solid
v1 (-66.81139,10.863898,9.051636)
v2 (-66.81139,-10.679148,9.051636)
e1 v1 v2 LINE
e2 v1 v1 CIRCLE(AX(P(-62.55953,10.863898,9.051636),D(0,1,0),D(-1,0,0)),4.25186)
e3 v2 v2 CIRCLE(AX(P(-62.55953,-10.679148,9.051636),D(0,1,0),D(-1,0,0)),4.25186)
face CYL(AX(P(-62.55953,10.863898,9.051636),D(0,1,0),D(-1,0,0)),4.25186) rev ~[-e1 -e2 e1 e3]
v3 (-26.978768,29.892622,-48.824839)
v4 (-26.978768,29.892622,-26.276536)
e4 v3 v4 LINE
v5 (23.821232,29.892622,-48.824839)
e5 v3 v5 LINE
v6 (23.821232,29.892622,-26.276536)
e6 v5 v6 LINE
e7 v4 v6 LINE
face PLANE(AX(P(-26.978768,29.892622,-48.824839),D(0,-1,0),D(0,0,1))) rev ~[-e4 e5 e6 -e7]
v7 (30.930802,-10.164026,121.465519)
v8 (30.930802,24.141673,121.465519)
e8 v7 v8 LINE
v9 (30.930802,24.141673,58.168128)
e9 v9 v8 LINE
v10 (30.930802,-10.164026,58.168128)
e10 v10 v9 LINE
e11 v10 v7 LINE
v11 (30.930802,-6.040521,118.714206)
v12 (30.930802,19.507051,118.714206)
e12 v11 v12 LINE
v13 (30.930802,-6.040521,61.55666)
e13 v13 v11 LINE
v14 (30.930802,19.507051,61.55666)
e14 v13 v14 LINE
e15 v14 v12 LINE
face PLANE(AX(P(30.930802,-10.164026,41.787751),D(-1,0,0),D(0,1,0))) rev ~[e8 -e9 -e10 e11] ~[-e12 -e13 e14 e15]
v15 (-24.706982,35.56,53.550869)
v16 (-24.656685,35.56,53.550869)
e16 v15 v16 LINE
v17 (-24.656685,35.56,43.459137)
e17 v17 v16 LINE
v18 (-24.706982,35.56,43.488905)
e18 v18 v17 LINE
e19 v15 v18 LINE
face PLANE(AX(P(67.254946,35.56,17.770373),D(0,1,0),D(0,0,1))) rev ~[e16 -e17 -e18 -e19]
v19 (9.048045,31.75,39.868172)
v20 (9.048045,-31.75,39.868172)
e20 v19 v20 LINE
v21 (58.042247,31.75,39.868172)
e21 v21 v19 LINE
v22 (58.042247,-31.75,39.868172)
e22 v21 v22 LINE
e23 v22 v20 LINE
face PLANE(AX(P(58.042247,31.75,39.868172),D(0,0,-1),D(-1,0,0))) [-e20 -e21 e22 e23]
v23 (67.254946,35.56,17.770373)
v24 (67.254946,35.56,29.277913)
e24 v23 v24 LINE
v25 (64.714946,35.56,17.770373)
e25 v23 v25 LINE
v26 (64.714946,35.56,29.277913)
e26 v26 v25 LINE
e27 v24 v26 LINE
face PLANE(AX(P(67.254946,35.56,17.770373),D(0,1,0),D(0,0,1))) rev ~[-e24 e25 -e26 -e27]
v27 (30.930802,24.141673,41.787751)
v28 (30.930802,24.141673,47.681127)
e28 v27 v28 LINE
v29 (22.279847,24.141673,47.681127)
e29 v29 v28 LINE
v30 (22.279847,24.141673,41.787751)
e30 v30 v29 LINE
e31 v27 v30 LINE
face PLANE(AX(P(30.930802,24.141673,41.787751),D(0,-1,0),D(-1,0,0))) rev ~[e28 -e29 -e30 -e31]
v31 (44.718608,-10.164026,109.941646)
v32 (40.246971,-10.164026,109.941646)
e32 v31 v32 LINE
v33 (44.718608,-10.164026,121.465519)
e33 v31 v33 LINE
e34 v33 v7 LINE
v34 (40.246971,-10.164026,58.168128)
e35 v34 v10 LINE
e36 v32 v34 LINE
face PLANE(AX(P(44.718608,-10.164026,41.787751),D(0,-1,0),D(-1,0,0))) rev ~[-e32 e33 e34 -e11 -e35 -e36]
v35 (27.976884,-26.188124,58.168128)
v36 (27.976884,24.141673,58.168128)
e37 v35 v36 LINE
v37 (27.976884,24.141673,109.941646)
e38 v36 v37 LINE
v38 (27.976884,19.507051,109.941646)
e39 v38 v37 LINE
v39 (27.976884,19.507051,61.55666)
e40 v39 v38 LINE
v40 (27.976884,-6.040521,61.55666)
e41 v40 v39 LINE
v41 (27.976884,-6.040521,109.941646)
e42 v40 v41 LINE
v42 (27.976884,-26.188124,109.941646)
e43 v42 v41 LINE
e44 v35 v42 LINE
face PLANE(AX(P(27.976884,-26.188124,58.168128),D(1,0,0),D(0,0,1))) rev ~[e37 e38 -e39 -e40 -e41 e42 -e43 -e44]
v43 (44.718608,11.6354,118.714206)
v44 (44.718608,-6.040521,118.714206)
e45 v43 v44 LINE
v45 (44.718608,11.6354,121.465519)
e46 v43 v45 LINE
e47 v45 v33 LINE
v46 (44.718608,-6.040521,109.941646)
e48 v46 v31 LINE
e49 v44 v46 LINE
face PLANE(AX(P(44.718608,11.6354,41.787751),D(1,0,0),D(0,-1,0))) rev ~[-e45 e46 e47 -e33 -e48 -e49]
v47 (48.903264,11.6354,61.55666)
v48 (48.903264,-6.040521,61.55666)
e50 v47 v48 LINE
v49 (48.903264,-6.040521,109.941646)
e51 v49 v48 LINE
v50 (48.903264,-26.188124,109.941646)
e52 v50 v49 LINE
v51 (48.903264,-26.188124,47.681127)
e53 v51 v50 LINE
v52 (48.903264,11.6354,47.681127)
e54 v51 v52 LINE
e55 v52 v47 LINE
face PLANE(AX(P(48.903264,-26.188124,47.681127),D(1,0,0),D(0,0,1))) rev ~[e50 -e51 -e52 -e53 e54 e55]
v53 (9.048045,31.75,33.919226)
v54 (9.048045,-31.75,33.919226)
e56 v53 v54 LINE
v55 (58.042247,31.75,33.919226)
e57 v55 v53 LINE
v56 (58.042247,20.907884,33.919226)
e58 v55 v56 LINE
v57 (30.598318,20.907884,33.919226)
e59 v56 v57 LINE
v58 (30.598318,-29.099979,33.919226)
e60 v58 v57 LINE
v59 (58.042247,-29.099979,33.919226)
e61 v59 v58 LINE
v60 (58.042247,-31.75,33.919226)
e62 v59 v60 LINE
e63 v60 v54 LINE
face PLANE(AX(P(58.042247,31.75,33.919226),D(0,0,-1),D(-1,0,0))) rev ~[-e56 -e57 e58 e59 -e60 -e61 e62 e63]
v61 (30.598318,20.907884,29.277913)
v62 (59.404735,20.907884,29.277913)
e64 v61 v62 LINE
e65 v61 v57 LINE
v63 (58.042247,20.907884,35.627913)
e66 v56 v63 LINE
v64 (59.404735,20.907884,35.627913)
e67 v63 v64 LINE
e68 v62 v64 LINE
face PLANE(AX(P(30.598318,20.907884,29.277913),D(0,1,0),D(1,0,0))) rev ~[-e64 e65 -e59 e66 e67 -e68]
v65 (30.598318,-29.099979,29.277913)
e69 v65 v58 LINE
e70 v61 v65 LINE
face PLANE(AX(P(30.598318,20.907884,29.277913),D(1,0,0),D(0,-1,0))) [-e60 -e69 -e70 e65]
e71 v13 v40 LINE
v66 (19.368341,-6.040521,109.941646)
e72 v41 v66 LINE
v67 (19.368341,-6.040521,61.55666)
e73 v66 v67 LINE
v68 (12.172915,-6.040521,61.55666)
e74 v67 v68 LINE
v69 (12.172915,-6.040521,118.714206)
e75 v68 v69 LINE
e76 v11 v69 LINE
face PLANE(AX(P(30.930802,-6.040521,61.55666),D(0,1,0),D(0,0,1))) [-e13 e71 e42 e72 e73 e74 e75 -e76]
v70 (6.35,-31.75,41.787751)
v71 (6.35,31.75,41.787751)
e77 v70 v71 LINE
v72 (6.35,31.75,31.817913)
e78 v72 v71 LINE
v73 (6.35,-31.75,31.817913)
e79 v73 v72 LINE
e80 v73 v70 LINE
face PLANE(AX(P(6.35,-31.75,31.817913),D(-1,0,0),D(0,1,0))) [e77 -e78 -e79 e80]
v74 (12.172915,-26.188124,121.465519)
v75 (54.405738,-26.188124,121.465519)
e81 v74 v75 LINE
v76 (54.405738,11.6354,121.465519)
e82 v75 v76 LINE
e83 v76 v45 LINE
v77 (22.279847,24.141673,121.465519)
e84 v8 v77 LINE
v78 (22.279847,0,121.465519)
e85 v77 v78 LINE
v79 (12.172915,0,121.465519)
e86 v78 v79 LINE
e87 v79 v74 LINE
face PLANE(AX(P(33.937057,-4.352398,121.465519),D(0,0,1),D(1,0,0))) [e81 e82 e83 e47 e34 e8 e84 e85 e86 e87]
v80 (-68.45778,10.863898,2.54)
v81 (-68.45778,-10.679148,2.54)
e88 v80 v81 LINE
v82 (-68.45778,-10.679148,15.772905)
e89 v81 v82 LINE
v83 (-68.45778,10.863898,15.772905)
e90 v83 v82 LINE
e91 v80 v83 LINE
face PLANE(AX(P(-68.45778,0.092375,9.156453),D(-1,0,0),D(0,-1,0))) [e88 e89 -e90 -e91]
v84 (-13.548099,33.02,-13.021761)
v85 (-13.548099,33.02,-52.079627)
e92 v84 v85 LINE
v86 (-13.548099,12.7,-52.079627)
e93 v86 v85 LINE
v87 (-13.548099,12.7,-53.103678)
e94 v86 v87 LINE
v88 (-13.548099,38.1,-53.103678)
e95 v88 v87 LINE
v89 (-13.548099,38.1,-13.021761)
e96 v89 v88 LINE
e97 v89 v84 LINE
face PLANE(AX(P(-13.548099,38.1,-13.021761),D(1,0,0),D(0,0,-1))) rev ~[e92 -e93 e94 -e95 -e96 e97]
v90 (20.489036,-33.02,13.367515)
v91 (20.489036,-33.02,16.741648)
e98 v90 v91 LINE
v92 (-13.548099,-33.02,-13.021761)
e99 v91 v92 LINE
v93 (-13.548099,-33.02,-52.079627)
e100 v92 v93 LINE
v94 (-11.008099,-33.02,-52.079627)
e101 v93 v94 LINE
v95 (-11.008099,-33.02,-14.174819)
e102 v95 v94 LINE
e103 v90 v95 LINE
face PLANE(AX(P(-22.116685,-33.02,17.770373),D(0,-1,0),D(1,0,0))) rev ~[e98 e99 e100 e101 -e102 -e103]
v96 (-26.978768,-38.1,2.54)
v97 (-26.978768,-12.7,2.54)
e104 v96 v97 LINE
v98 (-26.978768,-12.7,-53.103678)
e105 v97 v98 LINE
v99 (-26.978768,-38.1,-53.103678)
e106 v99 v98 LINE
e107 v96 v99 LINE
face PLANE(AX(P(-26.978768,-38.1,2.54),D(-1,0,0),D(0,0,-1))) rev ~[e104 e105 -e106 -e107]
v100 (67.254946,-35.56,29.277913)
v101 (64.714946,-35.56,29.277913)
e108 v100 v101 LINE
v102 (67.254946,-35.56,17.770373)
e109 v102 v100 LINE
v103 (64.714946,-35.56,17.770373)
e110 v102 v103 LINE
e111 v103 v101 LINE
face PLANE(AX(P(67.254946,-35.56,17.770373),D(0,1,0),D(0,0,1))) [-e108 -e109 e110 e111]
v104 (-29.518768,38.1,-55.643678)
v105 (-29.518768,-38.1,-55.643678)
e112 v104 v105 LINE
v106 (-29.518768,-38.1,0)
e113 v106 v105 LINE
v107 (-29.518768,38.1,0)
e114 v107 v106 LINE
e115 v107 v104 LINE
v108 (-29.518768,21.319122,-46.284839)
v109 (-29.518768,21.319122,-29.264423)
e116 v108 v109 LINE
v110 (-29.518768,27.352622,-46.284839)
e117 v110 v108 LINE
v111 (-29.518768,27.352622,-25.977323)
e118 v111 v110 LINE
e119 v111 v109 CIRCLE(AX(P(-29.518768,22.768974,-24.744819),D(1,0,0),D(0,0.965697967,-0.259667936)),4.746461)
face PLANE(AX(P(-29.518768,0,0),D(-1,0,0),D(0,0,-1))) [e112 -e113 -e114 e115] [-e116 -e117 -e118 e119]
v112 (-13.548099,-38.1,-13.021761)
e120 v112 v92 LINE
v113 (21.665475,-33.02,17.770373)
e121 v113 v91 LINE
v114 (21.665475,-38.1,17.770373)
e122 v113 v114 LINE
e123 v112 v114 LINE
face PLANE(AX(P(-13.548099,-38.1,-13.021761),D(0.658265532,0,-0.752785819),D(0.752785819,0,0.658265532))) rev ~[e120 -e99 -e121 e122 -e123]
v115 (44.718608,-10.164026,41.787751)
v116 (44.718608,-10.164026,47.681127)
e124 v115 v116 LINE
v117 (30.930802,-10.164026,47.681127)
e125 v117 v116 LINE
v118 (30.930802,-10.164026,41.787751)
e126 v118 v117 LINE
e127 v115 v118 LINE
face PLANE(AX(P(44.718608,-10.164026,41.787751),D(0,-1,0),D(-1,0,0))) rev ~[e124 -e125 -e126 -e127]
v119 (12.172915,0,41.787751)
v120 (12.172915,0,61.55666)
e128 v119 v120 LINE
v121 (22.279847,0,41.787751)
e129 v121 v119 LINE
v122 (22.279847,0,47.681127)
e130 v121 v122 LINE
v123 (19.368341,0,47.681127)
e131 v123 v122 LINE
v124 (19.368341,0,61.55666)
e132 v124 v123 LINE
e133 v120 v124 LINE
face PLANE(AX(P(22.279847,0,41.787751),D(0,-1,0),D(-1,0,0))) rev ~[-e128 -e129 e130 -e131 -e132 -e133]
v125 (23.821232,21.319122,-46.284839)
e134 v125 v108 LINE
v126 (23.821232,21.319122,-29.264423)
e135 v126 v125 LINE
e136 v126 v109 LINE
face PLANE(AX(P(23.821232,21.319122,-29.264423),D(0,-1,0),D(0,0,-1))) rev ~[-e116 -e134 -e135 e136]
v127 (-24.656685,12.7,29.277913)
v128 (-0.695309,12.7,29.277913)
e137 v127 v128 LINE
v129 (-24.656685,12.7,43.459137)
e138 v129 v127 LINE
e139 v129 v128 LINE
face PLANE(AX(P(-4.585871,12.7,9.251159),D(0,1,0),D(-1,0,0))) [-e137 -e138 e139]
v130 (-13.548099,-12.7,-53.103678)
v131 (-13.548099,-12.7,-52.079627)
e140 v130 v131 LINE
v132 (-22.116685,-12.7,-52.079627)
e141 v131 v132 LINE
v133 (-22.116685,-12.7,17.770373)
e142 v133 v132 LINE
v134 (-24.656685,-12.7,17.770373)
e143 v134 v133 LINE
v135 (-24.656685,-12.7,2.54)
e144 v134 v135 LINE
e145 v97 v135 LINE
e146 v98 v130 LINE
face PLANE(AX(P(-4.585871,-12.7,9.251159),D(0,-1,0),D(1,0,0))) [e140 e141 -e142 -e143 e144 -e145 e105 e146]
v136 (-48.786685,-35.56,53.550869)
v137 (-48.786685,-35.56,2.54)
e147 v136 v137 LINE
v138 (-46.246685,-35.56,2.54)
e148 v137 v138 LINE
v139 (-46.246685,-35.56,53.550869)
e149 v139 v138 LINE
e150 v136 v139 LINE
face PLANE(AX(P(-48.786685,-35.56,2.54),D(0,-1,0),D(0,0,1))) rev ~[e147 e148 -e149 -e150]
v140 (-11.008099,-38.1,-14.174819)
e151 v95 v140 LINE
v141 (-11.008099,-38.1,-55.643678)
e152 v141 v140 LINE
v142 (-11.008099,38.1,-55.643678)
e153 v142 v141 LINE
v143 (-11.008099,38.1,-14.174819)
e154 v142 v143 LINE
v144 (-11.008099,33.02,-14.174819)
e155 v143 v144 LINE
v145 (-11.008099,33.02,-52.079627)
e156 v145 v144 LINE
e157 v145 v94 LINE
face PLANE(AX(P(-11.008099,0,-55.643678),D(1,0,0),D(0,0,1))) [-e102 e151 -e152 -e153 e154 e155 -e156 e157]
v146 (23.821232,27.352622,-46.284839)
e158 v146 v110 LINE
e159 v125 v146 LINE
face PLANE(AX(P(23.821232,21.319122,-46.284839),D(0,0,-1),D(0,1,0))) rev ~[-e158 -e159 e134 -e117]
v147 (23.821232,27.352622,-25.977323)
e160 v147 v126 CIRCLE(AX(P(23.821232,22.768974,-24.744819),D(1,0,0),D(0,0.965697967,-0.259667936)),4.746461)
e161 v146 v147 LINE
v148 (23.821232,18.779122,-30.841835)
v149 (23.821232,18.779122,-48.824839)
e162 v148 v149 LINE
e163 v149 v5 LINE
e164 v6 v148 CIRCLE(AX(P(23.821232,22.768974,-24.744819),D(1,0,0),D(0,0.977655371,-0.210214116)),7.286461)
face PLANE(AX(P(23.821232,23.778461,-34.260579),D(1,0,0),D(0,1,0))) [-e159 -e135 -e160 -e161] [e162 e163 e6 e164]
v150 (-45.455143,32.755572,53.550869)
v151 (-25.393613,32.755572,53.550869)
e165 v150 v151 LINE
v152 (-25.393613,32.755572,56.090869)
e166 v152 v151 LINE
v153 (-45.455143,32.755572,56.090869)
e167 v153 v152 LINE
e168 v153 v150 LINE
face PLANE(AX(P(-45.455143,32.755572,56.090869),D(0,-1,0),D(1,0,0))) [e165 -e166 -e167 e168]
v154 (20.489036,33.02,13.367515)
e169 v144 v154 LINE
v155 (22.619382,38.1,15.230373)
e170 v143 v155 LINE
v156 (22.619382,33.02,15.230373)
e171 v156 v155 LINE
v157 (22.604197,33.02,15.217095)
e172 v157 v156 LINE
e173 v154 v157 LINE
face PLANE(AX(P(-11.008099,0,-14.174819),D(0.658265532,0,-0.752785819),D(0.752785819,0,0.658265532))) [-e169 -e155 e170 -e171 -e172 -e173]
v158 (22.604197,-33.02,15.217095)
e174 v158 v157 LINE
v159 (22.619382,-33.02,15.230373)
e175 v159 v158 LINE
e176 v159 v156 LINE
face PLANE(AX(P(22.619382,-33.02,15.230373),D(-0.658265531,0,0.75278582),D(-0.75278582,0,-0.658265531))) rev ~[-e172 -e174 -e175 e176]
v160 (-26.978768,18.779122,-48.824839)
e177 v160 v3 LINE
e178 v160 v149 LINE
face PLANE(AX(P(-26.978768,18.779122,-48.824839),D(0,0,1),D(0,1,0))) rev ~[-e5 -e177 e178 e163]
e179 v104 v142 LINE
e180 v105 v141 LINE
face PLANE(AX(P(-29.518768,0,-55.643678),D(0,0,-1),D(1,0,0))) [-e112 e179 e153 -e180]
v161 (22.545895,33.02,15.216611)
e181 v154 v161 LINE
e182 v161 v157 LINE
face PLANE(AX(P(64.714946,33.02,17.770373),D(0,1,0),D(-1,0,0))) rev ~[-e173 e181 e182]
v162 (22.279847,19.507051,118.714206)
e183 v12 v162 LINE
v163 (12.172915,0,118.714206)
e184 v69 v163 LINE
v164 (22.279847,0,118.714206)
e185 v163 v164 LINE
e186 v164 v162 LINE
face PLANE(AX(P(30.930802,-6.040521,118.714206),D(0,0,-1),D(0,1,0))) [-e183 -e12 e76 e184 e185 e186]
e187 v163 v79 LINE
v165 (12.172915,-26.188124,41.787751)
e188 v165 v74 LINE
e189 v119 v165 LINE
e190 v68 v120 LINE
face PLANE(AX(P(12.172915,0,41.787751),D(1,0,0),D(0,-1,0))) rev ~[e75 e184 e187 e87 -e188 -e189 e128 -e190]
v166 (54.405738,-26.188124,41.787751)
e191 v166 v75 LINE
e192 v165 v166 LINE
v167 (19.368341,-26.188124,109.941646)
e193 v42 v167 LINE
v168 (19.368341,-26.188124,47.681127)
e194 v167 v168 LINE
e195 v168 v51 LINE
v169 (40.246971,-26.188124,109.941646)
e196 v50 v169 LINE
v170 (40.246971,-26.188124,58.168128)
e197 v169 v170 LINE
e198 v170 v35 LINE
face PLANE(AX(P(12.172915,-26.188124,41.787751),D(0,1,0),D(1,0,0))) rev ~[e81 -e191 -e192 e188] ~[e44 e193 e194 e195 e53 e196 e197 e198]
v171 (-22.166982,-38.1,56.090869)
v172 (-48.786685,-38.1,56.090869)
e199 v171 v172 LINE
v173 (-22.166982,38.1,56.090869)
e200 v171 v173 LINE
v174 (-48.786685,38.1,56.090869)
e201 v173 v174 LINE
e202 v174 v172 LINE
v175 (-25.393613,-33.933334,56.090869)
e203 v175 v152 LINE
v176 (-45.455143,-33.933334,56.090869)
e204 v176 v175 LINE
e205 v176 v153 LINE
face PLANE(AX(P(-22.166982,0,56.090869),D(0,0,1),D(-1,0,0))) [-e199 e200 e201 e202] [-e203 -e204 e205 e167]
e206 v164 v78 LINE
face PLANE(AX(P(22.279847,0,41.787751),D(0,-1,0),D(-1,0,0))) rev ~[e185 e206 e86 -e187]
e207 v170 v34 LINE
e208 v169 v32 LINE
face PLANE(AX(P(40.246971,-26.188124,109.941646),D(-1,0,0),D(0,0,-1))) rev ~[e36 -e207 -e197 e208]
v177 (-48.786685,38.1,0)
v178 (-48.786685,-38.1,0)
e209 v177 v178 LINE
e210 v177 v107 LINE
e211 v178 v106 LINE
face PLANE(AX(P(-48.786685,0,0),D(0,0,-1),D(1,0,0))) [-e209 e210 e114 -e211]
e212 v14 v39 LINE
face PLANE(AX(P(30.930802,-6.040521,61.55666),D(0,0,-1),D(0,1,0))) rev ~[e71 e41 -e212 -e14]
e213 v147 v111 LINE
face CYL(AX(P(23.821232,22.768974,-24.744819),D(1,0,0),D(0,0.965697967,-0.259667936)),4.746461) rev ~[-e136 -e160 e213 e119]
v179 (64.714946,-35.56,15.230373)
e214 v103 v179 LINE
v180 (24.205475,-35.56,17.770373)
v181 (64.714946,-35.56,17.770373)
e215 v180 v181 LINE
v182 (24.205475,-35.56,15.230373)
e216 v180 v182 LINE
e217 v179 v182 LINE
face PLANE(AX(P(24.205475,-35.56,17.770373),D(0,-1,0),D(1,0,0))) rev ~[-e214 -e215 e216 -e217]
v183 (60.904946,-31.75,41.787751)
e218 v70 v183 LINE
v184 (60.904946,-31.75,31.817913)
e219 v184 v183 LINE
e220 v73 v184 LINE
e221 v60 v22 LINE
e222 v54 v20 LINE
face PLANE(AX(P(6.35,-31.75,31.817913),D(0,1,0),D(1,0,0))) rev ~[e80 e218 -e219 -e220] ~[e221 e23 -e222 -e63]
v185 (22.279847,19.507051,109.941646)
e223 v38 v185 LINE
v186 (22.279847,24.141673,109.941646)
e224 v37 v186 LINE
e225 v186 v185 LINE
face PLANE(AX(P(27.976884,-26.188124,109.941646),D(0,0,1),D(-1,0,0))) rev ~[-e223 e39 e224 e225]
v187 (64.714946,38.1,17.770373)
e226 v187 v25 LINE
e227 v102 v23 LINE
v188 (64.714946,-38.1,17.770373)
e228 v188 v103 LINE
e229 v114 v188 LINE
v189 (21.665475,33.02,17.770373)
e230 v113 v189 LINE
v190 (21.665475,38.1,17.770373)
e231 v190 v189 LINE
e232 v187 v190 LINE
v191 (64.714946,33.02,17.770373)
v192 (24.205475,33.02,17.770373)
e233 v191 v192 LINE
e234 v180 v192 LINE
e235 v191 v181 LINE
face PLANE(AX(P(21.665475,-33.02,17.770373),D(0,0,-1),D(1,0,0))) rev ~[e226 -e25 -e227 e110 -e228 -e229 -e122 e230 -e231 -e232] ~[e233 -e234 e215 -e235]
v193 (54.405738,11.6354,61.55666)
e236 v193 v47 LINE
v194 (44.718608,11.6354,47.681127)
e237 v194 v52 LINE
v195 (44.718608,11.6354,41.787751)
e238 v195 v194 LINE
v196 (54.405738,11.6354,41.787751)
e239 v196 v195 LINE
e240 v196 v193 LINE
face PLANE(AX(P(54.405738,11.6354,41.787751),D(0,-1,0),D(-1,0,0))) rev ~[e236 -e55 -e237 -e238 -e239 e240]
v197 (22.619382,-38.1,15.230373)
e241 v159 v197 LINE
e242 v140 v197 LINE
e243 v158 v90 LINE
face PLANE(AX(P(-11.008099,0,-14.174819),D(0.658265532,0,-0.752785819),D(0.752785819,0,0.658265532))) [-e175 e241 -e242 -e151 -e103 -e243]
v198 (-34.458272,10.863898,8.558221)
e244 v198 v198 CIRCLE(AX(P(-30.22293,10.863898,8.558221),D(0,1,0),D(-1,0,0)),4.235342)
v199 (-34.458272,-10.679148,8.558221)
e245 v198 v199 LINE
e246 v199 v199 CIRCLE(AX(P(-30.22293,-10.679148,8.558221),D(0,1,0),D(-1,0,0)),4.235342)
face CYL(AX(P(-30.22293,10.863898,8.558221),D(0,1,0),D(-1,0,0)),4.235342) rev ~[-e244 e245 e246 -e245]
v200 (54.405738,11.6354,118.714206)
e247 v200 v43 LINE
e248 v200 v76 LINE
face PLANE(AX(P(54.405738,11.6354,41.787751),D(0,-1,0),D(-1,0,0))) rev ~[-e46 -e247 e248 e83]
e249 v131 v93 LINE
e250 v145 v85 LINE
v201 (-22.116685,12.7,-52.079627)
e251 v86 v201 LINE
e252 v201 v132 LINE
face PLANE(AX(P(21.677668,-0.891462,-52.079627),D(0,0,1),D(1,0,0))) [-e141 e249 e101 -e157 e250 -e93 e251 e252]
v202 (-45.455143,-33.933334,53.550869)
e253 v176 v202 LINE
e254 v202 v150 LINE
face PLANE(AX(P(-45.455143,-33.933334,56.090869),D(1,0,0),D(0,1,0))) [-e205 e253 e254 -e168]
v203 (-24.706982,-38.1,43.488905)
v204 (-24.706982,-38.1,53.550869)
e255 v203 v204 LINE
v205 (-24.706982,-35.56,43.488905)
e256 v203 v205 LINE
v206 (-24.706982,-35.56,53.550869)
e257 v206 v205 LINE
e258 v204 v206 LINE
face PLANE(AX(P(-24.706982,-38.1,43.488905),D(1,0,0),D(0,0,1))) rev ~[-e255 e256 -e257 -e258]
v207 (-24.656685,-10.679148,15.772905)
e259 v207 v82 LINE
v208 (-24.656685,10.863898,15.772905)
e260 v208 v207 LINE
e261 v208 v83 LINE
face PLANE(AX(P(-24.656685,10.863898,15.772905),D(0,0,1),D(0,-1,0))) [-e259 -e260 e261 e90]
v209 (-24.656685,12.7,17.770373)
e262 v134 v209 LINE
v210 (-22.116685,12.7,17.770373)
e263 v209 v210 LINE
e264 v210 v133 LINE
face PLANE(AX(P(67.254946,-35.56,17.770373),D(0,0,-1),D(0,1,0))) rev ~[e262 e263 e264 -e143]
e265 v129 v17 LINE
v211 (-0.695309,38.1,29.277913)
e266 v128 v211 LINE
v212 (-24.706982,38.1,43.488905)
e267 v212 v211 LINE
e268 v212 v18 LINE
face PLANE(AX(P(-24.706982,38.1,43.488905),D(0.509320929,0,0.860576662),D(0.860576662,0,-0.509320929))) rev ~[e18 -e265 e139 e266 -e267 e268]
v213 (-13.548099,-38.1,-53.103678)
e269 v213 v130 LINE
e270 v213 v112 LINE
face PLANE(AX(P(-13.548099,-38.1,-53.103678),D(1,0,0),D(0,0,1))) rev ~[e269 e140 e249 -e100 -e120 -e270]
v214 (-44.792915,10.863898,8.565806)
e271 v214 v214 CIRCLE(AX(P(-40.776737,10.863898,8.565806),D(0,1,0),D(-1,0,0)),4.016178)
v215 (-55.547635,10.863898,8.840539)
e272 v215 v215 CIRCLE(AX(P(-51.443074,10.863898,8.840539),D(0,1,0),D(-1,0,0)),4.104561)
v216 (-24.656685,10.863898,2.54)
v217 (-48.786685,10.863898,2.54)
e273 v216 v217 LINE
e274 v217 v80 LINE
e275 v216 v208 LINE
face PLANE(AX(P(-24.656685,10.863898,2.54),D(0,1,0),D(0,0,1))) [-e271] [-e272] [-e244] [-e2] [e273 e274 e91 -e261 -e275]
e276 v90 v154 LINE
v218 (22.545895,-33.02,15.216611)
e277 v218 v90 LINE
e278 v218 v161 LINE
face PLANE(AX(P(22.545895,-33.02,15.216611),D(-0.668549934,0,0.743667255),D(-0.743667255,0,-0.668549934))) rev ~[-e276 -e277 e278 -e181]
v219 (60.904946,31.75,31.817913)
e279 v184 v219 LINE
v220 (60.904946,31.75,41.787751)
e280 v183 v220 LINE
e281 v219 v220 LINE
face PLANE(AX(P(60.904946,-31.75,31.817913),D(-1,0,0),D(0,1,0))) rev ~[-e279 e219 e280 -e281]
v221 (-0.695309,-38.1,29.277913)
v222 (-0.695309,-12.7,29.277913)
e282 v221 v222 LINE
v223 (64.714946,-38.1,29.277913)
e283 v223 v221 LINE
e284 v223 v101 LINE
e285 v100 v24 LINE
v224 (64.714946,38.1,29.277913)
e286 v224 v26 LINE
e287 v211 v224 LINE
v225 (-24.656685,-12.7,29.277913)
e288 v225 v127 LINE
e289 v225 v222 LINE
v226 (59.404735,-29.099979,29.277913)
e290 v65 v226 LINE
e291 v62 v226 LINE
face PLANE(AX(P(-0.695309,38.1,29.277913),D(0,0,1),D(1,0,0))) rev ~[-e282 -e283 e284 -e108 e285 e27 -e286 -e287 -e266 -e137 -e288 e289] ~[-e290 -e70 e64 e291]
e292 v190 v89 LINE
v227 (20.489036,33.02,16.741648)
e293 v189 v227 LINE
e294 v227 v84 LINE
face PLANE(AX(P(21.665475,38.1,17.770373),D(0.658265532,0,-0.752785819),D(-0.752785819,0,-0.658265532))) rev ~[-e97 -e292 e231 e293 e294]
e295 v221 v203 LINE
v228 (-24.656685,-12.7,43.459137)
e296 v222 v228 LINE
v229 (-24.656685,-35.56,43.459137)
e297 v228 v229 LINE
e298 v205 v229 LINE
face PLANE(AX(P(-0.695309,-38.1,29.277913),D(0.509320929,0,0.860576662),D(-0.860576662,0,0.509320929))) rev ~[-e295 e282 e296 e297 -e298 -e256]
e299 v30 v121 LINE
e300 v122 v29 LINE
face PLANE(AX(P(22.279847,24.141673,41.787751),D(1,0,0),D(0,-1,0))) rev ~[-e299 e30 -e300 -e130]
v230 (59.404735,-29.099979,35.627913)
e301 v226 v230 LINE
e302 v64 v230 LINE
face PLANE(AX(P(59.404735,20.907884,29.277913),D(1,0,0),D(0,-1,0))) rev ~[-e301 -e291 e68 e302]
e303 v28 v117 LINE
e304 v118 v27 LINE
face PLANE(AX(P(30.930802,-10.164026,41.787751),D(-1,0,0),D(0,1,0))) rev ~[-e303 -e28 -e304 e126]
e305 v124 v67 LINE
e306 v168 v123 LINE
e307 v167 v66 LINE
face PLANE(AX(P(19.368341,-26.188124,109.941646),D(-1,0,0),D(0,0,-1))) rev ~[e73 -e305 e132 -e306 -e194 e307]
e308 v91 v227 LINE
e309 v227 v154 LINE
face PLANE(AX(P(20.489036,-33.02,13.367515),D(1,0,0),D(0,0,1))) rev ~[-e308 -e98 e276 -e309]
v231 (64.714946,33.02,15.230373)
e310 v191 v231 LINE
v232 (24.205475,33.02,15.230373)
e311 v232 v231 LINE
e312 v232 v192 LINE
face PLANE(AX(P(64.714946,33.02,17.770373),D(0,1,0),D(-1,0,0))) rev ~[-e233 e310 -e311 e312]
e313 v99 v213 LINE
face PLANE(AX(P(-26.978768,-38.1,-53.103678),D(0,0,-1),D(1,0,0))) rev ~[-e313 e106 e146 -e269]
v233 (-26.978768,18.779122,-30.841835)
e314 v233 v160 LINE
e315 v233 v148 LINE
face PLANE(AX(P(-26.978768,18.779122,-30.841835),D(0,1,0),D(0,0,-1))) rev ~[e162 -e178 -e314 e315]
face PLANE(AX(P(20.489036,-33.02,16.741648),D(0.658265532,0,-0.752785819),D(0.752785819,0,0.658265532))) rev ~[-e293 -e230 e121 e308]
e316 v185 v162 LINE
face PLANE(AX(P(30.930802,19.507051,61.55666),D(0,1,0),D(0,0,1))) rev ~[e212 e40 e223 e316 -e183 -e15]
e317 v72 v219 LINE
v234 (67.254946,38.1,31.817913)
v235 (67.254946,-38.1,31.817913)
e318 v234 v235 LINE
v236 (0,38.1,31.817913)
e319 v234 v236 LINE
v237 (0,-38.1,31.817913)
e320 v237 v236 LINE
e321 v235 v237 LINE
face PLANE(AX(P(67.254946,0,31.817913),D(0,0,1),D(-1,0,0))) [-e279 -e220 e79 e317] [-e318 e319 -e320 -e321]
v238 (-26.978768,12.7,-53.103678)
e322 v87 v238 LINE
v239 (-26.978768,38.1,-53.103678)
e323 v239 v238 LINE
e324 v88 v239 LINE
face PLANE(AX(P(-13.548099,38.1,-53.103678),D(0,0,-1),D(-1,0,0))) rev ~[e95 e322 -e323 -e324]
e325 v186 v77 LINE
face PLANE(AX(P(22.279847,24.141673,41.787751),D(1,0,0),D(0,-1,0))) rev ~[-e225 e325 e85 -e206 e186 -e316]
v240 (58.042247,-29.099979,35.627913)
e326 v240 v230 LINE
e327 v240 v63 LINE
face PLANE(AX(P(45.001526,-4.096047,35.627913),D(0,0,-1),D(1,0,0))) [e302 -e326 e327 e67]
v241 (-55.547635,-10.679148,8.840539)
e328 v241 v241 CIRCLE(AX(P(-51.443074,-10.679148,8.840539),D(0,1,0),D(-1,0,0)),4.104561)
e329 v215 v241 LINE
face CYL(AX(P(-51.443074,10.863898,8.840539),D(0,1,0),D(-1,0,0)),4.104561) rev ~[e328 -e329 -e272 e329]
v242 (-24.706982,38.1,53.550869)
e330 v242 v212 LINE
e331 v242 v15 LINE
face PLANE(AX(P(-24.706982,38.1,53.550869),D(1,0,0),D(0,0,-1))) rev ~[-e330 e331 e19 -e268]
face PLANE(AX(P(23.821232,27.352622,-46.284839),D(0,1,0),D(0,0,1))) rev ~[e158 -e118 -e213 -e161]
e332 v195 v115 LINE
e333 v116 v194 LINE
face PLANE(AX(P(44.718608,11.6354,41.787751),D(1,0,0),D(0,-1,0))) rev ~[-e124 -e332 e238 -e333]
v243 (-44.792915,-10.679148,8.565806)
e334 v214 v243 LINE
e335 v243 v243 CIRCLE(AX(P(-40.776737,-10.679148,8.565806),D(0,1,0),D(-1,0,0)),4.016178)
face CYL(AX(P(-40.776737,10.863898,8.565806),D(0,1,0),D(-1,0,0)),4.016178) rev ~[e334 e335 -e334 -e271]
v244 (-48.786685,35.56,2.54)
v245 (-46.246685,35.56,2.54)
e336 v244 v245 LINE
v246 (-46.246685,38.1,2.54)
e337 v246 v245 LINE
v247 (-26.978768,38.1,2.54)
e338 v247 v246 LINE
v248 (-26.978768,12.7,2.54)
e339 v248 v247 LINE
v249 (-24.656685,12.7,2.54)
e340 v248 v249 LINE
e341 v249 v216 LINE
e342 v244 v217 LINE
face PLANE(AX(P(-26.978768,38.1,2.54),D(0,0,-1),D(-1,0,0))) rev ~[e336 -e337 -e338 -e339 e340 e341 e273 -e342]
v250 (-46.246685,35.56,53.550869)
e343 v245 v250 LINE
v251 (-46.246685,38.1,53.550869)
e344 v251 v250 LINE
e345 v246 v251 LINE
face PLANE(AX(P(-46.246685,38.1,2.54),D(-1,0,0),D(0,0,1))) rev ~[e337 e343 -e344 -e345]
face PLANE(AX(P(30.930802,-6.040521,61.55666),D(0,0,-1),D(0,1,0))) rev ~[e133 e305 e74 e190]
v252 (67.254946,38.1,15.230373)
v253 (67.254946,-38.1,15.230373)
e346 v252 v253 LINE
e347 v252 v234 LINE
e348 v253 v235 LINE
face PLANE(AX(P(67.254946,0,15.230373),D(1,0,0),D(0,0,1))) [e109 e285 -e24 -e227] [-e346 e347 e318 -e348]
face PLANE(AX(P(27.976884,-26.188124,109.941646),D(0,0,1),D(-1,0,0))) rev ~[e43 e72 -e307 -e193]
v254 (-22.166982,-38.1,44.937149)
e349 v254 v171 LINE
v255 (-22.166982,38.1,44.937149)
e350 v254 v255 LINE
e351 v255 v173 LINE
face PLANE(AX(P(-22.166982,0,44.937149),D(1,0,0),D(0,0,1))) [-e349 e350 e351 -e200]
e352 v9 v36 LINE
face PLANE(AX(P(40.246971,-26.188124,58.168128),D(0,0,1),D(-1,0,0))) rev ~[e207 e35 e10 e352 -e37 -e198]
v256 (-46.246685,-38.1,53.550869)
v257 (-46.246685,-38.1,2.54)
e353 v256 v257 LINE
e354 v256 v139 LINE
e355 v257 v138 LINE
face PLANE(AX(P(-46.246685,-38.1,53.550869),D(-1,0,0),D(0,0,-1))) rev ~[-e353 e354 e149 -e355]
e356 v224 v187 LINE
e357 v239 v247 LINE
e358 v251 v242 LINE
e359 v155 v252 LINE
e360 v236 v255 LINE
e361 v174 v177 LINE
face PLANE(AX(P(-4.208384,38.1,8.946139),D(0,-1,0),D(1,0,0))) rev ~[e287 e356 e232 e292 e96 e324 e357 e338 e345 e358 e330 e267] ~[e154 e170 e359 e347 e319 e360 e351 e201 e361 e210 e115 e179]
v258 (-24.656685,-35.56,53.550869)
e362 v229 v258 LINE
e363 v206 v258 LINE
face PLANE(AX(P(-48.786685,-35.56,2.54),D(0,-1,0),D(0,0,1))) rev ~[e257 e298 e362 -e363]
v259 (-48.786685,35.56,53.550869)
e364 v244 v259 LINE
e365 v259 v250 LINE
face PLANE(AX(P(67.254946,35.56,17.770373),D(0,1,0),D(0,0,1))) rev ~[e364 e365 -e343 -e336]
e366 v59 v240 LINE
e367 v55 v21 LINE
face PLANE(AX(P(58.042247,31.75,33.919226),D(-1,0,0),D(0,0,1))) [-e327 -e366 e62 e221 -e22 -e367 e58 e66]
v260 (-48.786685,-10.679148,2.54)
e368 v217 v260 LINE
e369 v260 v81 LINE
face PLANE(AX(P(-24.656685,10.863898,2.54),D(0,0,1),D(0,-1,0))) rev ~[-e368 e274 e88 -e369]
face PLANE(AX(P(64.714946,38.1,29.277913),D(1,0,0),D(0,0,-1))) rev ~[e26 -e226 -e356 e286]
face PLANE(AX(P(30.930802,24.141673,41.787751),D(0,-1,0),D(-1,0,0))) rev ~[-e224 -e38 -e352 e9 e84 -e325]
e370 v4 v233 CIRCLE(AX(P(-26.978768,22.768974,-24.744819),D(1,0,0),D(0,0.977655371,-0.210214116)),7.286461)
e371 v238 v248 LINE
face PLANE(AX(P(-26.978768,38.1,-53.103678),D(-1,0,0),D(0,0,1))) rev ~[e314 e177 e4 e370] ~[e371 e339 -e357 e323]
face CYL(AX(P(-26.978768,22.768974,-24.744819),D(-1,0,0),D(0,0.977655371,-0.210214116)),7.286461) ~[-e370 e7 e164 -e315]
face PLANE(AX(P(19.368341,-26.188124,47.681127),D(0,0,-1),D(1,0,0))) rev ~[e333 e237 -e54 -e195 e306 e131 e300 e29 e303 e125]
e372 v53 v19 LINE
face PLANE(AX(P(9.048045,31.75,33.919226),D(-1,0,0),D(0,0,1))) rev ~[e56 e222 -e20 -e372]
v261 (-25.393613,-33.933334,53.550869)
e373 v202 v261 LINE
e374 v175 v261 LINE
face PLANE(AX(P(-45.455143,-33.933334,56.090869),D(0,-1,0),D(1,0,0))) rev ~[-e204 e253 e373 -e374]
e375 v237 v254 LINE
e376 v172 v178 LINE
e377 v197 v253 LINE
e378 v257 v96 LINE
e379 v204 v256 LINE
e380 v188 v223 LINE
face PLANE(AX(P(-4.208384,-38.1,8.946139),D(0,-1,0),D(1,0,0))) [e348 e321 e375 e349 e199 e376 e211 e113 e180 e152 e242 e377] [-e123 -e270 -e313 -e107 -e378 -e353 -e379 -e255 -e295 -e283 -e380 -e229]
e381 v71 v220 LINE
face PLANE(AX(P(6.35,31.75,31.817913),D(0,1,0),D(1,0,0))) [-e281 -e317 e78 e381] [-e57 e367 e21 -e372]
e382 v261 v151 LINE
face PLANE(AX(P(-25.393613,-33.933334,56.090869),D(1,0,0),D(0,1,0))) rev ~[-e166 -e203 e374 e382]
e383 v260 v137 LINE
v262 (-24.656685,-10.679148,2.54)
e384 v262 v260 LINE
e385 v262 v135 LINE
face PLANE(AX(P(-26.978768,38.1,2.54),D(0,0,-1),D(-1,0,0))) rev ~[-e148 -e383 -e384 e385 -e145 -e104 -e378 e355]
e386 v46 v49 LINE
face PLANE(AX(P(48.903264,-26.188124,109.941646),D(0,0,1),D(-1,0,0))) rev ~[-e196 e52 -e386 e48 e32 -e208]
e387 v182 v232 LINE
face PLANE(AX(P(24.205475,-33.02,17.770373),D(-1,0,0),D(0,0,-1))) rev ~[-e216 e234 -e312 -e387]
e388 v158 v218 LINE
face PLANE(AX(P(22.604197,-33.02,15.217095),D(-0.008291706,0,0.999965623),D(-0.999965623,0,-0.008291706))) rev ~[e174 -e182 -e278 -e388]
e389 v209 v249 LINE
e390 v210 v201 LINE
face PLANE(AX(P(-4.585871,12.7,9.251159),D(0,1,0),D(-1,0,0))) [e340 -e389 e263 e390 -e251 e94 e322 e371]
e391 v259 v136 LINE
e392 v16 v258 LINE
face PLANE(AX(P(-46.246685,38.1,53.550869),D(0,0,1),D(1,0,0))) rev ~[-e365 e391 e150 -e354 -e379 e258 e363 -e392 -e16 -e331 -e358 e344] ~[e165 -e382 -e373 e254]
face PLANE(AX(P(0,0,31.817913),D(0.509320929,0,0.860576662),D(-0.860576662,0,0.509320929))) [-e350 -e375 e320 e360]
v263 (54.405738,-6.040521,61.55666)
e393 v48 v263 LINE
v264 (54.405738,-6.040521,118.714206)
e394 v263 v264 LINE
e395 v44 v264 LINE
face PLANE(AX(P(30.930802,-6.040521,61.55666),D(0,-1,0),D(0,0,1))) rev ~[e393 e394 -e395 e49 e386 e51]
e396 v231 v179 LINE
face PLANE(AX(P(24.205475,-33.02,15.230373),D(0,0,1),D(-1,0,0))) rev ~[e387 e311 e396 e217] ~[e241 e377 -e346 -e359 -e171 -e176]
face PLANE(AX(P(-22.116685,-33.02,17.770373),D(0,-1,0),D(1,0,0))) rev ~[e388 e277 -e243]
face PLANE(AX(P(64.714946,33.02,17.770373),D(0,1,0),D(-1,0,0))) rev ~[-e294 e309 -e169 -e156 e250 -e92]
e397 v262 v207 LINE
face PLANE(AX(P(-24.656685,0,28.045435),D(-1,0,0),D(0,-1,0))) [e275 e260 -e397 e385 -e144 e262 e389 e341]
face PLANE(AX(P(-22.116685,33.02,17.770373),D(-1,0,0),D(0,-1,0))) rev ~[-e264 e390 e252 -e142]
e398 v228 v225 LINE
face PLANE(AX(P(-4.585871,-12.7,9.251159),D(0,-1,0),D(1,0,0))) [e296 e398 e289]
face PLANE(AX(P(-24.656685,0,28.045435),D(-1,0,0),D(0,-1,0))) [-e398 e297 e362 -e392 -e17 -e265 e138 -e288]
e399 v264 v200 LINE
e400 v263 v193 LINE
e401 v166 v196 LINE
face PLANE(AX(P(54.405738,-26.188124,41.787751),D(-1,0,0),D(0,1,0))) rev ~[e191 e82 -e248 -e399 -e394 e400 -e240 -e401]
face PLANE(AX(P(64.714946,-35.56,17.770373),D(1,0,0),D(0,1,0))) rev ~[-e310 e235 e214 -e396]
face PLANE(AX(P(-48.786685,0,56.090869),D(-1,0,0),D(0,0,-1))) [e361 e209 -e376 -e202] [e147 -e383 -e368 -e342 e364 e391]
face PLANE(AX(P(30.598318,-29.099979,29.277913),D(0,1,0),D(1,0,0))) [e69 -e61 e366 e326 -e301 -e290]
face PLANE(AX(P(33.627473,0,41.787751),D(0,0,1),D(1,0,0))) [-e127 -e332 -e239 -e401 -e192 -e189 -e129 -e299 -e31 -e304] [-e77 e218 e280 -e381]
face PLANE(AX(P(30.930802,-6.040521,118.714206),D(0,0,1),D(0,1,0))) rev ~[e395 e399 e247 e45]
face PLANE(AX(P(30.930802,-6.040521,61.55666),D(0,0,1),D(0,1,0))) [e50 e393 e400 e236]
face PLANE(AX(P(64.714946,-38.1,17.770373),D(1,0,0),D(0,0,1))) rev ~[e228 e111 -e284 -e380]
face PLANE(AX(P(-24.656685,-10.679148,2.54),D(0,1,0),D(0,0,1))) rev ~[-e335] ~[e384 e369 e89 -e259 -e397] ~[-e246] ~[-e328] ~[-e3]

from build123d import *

# Parameters (mm, degrees)
F1_DEPTH       = 38.1
F3_DEPTH       = 25.4
F4_W           = 71.12
F4_H           = 11.5075405073
F5_DEPTH       = 166.5568947792
F6_W           = 71.12
F6_H           = 51.0108690095
F7_DEPTH       = 24.13
F9_DEPTH       = 69.85
F11_DEPTH      = 25.4
F13_DEPTH      = 69.9950531125
F14_W          = 54.5549456358
F14_H          = 63.5
F15_DEPTH      = 9.9698379636
F17_DEPTH      = 79.6777680516
F19_DEPTH      = 169.2734211683
F20_W          = 25.5475714803
F20_H          = 57.1575462818
F21_DEPTH      = 79.7184870968
F21_DEPTH_BACK = 25.4
F22_W          = 28.8064163178
F22_H          = 50.0078629702
F23_DEPTH      = 6.35
F24_W          = 48.9942021668
F24_H          = 5.9489458799
F25_DEPTH      = 69.851
F26_W          = 20.0615301728
F26_H          = 66.6889064014
F27_DEPTH      = 25.4
F29_DEPTH      = 50.8
F31_DEPTH      = 86.3181352615
F32_W          = 21.5430464596
F32_H          = 13.2329052007
F33_DEPTH      = 43.8010953367
F34_R          = 4.2353424769
F34_R_2        = 4.016178265
F34_R_3        = 4.1045612078
F34_R_4        = 4.2518599003
F35_DEPTH      = 25.4


with BuildPart() as f1:
    # F0 (on Front) → F1 (new body, symmetric)
    with BuildSketch(Plane.XZ):
        Polygon((-22.1669822931, 56.0908690095), (-48.7866848707, 56.0908690095), (-48.7866848707, 0), (-29.5187681913, 0), (-29.5187681913, -55.6436777115), (-11.0080987215, -55.6436777115), (-11.0080987215, -14.1748189926), (22.619381547, 15.2303725481), (67.2549456358, 15.2303725481), (67.2549456358, 31.8179130554), (0, 31.8179130554), (-22.1669822931, 44.9371486902), align=None)
    extrude(amount=F1_DEPTH, both=True)

    # F2 (on face) → F3 (cut)
    with BuildSketch(Plane.XZ.offset(38.1)):
        Polygon((64.7149456358, 17.7703725481), (64.7149456358, 29.2779130554), (-0.6953087103, 29.2779130554), (-24.7069822931, 43.4889048609), (-24.7069822931, 53.5508690095), (-46.2466848707, 53.5508690095), (-46.2466848707, 2.54), (-26.9787681913, 2.54), (-26.9787681913, -53.1036777115), (-13.5480987215, -53.1036777115), (-13.5480987215, -13.0217612085), (21.665474667, 17.7703725481), align=None)
    extrude(amount=-F3_DEPTH, mode=Mode.SUBTRACT)

    # F4 (on face) → F5 (cut)
    with BuildSketch(Plane.YZ.offset(67.2549456358)):
        with Locations((0, 23.5241428018)):
            Rectangle(F4_W, F4_H)
    extrude(amount=-F5_DEPTH, mode=Mode.SUBTRACT)

    # F6 (on face) → F7 (cut)
    with BuildSketch(Plane(origin=(-48.7866848707, 0, 0), x_dir=(0, -1, 0), z_dir=(-1, 0, 0))):
        with Locations((0, 28.0454345047)):
            Rectangle(F6_W, F6_H)
    extrude(amount=-F7_DEPTH, mode=Mode.SUBTRACT)

    # F8 (on face) → F9 (cut)
    with BuildSketch(Plane.XY.offset(17.7703725481)):
        Polygon((-22.1166848707, -33.02), (24.205474667, -33.02), (24.205474667, -35.56), (64.7149456358, -35.56), (64.7149456358, 33.02), (-22.1166848707, 33.02), align=None)
    extrude(amount=-F9_DEPTH, mode=Mode.SUBTRACT)

    # F10 (on face) → F11 (cut)
    with BuildSketch(Plane(origin=(0, 38.1, 0), x_dir=(-1, 0, 0), z_dir=(0, 1, 0))):
        Polygon((-64.7149456358, 17.7703725481), (-21.665474667, 17.7703725481), (13.5480987215, -13.0217612085), (13.5480987215, -53.1036777115), (26.9787681913, -53.1036777115), (26.9787681913, 2.54), (46.2466848707, 2.54), (46.2466848707, 53.5508690095), (24.7069822931, 53.5508690095), (24.7069822931, 43.4889048609), (0.6953087103, 29.2779130554), (-64.7149456358, 29.2779130554), align=None)
    extrude(amount=-F11_DEPTH, mode=Mode.SUBTRACT)

    # F12 (on face) → F13 (join)
    with BuildSketch(Plane(origin=(0, -33.02, 0), x_dir=(-1, 0, 0), z_dir=(0, 1, 0))):
        Polygon((-21.665474667, 17.7703725481), (-24.205474667, 17.7703725481), (-24.205474667, 15.2303725481), (-22.619381547, 15.2303725481), (-22.6041972144, 15.2170947704), (-22.5458946079, 15.2166113257), (-20.4890360799, 13.3675146709), (-20.4890360799, 16.7416483703), align=None)
    extrude(amount=F13_DEPTH)

    # F14 (on face) → F15 (join)
    with BuildSketch(Plane.XY.offset(31.8179130554)):
        with Locations((33.6274728179, 0)):
            Rectangle(F14_W, F14_H)
    extrude(amount=F15_DEPTH)

    # F16 (on face) → F17 (join)
    with BuildSketch(Plane.XY.offset(41.787751019)):
        Polygon((12.1729150414, -26.1881239712), (54.4057376683, -26.1881239712), (54.4057376683, 11.6354003549), (44.7186082602, 11.6354003549), (44.7186082602, -10.164026171), (30.9308022261, -10.164026171), (30.9308022261, 24.1416729987), (22.2798474133, 24.1416729987), (22.2798474133, 0), (12.1729150414, 0), align=None)
    extrude(amount=F17_DEPTH)

    # F18 (on face) → F19 (cut)
    with BuildSketch(Plane.XZ.offset(26.1881239712)):
        Polygon((27.9768835753, 109.9416464567), (19.3683411926, 109.9416464567), (19.3683411926, 47.6811267436), (48.9032641053, 47.6811267436), (48.9032641053, 109.9416464567), (40.2469709516, 109.9416464567), (40.2469709516, 58.1681281328), (27.9768835753, 58.1681281328), align=None)
    extrude(amount=-F19_DEPTH, mode=Mode.SUBTRACT)

    # F20 (on face) → F21 (cut, two sides)
    with BuildSketch(Plane.YZ.offset(30.9308022261)) as f21_sk:
        with Locations((6.7332647741, 90.1354327798)):
            Rectangle(F20_W, F20_H)
    extrude(amount=-F21_DEPTH, mode=Mode.SUBTRACT)
    extrude(f21_sk.sketch, amount=F21_DEPTH_BACK, mode=Mode.SUBTRACT)

    # F22 (on face) → F23 (cut)
    with BuildSketch(Plane(origin=(0, 0, 29.2779130554), x_dir=(1, 0, 0), z_dir=(0, 0, -1))):
        with Locations((45.0015263632, 4.0960470214)):
            Rectangle(F22_W, F22_H)
    extrude(amount=-F23_DEPTH, mode=Mode.SUBTRACT)

    # F24 (on face) → F25 (cut, through all)
    with BuildSketch(Plane(origin=(0, 31.75, 0), x_dir=(-1, 0, 0), z_dir=(0, 1, 0))):
        with Locations((-33.5451457649, 36.8936993182)):
            Rectangle(F24_W, F24_H)
    extrude(amount=-F25_DEPTH, mode=Mode.SUBTRACT)

    # F26 (on face) → F27 (cut)
    with BuildSketch(Plane.XY.offset(56.0908690095)):
        with Locations((-35.4243777692, -0.5888808519)):
            Rectangle(F26_W, F26_H)
    extrude(amount=-F27_DEPTH, mode=Mode.SUBTRACT)

    # F28 (on face) → F29 (join)
    with BuildSketch(Plane.YZ.offset(-26.9787681913)):
        with BuildLine():
            Line((29.8926215619, -48.8248394649), (29.8926215619, -26.276535997))
            ThreePointArc((29.8926215619, -26.276535997), (20.0002810954, -18.0048741229), (18.7791224223, -30.8418348831))
            Line((18.7791224223, -30.8418348831), (18.7791224223, -48.8248394649))
            Line((18.7791224223, -48.8248394649), (29.8926215619, -48.8248394649))
        make_face()
    extrude(amount=F29_DEPTH)

    # F30 (on face) → F31 (cut)
    with BuildSketch(Plane.YZ.offset(23.8212318087)):
        with BuildLine():
            Line((21.3191224223, -46.2848394649), (27.3526215619, -46.2848394649))
            Line((27.3526215619, -46.2848394649), (27.3526215619, -25.9773227743))
            ThreePointArc((27.3526215619, -25.9773227743), (20.4981967379, -20.5767900682), (21.3191224223, -29.2644234743))
            Line((21.3191224223, -29.2644234743), (21.3191224223, -46.2848394649))
        make_face()
    extrude(amount=-F31_DEPTH, mode=Mode.SUBTRACT)

    # F32 (on face) → F33 (join)
    with BuildSketch(Plane(origin=(-24.6566848707, 0, 0), x_dir=(0, -1, 0), z_dir=(-1, 0, 0))):
        with Locations((-0.0923750922, 9.1564526004)):
            Rectangle(F32_W, F32_H)
    extrude(amount=F33_DEPTH)

    # F34 (on face) → F35 (cut)
    with BuildSketch(Plane(origin=(0, 10.863898322, 0), x_dir=(-1, 0, 0), z_dir=(0, 1, 0))):
        with Locations((30.2229300141, 8.5582211614)):
            Circle(F34_R)
        with Locations((40.7767370343, 8.5658058524)):
            Circle(F34_R_2)
        with Locations((51.4430738986, 8.8405385613)):
            Circle(F34_R_3)
        with Locations((62.559530139, 9.0516358614)):
            Circle(F34_R_4)
    extrude(amount=-F35_DEPTH, mode=Mode.SUBTRACT)


solid = f1.part
